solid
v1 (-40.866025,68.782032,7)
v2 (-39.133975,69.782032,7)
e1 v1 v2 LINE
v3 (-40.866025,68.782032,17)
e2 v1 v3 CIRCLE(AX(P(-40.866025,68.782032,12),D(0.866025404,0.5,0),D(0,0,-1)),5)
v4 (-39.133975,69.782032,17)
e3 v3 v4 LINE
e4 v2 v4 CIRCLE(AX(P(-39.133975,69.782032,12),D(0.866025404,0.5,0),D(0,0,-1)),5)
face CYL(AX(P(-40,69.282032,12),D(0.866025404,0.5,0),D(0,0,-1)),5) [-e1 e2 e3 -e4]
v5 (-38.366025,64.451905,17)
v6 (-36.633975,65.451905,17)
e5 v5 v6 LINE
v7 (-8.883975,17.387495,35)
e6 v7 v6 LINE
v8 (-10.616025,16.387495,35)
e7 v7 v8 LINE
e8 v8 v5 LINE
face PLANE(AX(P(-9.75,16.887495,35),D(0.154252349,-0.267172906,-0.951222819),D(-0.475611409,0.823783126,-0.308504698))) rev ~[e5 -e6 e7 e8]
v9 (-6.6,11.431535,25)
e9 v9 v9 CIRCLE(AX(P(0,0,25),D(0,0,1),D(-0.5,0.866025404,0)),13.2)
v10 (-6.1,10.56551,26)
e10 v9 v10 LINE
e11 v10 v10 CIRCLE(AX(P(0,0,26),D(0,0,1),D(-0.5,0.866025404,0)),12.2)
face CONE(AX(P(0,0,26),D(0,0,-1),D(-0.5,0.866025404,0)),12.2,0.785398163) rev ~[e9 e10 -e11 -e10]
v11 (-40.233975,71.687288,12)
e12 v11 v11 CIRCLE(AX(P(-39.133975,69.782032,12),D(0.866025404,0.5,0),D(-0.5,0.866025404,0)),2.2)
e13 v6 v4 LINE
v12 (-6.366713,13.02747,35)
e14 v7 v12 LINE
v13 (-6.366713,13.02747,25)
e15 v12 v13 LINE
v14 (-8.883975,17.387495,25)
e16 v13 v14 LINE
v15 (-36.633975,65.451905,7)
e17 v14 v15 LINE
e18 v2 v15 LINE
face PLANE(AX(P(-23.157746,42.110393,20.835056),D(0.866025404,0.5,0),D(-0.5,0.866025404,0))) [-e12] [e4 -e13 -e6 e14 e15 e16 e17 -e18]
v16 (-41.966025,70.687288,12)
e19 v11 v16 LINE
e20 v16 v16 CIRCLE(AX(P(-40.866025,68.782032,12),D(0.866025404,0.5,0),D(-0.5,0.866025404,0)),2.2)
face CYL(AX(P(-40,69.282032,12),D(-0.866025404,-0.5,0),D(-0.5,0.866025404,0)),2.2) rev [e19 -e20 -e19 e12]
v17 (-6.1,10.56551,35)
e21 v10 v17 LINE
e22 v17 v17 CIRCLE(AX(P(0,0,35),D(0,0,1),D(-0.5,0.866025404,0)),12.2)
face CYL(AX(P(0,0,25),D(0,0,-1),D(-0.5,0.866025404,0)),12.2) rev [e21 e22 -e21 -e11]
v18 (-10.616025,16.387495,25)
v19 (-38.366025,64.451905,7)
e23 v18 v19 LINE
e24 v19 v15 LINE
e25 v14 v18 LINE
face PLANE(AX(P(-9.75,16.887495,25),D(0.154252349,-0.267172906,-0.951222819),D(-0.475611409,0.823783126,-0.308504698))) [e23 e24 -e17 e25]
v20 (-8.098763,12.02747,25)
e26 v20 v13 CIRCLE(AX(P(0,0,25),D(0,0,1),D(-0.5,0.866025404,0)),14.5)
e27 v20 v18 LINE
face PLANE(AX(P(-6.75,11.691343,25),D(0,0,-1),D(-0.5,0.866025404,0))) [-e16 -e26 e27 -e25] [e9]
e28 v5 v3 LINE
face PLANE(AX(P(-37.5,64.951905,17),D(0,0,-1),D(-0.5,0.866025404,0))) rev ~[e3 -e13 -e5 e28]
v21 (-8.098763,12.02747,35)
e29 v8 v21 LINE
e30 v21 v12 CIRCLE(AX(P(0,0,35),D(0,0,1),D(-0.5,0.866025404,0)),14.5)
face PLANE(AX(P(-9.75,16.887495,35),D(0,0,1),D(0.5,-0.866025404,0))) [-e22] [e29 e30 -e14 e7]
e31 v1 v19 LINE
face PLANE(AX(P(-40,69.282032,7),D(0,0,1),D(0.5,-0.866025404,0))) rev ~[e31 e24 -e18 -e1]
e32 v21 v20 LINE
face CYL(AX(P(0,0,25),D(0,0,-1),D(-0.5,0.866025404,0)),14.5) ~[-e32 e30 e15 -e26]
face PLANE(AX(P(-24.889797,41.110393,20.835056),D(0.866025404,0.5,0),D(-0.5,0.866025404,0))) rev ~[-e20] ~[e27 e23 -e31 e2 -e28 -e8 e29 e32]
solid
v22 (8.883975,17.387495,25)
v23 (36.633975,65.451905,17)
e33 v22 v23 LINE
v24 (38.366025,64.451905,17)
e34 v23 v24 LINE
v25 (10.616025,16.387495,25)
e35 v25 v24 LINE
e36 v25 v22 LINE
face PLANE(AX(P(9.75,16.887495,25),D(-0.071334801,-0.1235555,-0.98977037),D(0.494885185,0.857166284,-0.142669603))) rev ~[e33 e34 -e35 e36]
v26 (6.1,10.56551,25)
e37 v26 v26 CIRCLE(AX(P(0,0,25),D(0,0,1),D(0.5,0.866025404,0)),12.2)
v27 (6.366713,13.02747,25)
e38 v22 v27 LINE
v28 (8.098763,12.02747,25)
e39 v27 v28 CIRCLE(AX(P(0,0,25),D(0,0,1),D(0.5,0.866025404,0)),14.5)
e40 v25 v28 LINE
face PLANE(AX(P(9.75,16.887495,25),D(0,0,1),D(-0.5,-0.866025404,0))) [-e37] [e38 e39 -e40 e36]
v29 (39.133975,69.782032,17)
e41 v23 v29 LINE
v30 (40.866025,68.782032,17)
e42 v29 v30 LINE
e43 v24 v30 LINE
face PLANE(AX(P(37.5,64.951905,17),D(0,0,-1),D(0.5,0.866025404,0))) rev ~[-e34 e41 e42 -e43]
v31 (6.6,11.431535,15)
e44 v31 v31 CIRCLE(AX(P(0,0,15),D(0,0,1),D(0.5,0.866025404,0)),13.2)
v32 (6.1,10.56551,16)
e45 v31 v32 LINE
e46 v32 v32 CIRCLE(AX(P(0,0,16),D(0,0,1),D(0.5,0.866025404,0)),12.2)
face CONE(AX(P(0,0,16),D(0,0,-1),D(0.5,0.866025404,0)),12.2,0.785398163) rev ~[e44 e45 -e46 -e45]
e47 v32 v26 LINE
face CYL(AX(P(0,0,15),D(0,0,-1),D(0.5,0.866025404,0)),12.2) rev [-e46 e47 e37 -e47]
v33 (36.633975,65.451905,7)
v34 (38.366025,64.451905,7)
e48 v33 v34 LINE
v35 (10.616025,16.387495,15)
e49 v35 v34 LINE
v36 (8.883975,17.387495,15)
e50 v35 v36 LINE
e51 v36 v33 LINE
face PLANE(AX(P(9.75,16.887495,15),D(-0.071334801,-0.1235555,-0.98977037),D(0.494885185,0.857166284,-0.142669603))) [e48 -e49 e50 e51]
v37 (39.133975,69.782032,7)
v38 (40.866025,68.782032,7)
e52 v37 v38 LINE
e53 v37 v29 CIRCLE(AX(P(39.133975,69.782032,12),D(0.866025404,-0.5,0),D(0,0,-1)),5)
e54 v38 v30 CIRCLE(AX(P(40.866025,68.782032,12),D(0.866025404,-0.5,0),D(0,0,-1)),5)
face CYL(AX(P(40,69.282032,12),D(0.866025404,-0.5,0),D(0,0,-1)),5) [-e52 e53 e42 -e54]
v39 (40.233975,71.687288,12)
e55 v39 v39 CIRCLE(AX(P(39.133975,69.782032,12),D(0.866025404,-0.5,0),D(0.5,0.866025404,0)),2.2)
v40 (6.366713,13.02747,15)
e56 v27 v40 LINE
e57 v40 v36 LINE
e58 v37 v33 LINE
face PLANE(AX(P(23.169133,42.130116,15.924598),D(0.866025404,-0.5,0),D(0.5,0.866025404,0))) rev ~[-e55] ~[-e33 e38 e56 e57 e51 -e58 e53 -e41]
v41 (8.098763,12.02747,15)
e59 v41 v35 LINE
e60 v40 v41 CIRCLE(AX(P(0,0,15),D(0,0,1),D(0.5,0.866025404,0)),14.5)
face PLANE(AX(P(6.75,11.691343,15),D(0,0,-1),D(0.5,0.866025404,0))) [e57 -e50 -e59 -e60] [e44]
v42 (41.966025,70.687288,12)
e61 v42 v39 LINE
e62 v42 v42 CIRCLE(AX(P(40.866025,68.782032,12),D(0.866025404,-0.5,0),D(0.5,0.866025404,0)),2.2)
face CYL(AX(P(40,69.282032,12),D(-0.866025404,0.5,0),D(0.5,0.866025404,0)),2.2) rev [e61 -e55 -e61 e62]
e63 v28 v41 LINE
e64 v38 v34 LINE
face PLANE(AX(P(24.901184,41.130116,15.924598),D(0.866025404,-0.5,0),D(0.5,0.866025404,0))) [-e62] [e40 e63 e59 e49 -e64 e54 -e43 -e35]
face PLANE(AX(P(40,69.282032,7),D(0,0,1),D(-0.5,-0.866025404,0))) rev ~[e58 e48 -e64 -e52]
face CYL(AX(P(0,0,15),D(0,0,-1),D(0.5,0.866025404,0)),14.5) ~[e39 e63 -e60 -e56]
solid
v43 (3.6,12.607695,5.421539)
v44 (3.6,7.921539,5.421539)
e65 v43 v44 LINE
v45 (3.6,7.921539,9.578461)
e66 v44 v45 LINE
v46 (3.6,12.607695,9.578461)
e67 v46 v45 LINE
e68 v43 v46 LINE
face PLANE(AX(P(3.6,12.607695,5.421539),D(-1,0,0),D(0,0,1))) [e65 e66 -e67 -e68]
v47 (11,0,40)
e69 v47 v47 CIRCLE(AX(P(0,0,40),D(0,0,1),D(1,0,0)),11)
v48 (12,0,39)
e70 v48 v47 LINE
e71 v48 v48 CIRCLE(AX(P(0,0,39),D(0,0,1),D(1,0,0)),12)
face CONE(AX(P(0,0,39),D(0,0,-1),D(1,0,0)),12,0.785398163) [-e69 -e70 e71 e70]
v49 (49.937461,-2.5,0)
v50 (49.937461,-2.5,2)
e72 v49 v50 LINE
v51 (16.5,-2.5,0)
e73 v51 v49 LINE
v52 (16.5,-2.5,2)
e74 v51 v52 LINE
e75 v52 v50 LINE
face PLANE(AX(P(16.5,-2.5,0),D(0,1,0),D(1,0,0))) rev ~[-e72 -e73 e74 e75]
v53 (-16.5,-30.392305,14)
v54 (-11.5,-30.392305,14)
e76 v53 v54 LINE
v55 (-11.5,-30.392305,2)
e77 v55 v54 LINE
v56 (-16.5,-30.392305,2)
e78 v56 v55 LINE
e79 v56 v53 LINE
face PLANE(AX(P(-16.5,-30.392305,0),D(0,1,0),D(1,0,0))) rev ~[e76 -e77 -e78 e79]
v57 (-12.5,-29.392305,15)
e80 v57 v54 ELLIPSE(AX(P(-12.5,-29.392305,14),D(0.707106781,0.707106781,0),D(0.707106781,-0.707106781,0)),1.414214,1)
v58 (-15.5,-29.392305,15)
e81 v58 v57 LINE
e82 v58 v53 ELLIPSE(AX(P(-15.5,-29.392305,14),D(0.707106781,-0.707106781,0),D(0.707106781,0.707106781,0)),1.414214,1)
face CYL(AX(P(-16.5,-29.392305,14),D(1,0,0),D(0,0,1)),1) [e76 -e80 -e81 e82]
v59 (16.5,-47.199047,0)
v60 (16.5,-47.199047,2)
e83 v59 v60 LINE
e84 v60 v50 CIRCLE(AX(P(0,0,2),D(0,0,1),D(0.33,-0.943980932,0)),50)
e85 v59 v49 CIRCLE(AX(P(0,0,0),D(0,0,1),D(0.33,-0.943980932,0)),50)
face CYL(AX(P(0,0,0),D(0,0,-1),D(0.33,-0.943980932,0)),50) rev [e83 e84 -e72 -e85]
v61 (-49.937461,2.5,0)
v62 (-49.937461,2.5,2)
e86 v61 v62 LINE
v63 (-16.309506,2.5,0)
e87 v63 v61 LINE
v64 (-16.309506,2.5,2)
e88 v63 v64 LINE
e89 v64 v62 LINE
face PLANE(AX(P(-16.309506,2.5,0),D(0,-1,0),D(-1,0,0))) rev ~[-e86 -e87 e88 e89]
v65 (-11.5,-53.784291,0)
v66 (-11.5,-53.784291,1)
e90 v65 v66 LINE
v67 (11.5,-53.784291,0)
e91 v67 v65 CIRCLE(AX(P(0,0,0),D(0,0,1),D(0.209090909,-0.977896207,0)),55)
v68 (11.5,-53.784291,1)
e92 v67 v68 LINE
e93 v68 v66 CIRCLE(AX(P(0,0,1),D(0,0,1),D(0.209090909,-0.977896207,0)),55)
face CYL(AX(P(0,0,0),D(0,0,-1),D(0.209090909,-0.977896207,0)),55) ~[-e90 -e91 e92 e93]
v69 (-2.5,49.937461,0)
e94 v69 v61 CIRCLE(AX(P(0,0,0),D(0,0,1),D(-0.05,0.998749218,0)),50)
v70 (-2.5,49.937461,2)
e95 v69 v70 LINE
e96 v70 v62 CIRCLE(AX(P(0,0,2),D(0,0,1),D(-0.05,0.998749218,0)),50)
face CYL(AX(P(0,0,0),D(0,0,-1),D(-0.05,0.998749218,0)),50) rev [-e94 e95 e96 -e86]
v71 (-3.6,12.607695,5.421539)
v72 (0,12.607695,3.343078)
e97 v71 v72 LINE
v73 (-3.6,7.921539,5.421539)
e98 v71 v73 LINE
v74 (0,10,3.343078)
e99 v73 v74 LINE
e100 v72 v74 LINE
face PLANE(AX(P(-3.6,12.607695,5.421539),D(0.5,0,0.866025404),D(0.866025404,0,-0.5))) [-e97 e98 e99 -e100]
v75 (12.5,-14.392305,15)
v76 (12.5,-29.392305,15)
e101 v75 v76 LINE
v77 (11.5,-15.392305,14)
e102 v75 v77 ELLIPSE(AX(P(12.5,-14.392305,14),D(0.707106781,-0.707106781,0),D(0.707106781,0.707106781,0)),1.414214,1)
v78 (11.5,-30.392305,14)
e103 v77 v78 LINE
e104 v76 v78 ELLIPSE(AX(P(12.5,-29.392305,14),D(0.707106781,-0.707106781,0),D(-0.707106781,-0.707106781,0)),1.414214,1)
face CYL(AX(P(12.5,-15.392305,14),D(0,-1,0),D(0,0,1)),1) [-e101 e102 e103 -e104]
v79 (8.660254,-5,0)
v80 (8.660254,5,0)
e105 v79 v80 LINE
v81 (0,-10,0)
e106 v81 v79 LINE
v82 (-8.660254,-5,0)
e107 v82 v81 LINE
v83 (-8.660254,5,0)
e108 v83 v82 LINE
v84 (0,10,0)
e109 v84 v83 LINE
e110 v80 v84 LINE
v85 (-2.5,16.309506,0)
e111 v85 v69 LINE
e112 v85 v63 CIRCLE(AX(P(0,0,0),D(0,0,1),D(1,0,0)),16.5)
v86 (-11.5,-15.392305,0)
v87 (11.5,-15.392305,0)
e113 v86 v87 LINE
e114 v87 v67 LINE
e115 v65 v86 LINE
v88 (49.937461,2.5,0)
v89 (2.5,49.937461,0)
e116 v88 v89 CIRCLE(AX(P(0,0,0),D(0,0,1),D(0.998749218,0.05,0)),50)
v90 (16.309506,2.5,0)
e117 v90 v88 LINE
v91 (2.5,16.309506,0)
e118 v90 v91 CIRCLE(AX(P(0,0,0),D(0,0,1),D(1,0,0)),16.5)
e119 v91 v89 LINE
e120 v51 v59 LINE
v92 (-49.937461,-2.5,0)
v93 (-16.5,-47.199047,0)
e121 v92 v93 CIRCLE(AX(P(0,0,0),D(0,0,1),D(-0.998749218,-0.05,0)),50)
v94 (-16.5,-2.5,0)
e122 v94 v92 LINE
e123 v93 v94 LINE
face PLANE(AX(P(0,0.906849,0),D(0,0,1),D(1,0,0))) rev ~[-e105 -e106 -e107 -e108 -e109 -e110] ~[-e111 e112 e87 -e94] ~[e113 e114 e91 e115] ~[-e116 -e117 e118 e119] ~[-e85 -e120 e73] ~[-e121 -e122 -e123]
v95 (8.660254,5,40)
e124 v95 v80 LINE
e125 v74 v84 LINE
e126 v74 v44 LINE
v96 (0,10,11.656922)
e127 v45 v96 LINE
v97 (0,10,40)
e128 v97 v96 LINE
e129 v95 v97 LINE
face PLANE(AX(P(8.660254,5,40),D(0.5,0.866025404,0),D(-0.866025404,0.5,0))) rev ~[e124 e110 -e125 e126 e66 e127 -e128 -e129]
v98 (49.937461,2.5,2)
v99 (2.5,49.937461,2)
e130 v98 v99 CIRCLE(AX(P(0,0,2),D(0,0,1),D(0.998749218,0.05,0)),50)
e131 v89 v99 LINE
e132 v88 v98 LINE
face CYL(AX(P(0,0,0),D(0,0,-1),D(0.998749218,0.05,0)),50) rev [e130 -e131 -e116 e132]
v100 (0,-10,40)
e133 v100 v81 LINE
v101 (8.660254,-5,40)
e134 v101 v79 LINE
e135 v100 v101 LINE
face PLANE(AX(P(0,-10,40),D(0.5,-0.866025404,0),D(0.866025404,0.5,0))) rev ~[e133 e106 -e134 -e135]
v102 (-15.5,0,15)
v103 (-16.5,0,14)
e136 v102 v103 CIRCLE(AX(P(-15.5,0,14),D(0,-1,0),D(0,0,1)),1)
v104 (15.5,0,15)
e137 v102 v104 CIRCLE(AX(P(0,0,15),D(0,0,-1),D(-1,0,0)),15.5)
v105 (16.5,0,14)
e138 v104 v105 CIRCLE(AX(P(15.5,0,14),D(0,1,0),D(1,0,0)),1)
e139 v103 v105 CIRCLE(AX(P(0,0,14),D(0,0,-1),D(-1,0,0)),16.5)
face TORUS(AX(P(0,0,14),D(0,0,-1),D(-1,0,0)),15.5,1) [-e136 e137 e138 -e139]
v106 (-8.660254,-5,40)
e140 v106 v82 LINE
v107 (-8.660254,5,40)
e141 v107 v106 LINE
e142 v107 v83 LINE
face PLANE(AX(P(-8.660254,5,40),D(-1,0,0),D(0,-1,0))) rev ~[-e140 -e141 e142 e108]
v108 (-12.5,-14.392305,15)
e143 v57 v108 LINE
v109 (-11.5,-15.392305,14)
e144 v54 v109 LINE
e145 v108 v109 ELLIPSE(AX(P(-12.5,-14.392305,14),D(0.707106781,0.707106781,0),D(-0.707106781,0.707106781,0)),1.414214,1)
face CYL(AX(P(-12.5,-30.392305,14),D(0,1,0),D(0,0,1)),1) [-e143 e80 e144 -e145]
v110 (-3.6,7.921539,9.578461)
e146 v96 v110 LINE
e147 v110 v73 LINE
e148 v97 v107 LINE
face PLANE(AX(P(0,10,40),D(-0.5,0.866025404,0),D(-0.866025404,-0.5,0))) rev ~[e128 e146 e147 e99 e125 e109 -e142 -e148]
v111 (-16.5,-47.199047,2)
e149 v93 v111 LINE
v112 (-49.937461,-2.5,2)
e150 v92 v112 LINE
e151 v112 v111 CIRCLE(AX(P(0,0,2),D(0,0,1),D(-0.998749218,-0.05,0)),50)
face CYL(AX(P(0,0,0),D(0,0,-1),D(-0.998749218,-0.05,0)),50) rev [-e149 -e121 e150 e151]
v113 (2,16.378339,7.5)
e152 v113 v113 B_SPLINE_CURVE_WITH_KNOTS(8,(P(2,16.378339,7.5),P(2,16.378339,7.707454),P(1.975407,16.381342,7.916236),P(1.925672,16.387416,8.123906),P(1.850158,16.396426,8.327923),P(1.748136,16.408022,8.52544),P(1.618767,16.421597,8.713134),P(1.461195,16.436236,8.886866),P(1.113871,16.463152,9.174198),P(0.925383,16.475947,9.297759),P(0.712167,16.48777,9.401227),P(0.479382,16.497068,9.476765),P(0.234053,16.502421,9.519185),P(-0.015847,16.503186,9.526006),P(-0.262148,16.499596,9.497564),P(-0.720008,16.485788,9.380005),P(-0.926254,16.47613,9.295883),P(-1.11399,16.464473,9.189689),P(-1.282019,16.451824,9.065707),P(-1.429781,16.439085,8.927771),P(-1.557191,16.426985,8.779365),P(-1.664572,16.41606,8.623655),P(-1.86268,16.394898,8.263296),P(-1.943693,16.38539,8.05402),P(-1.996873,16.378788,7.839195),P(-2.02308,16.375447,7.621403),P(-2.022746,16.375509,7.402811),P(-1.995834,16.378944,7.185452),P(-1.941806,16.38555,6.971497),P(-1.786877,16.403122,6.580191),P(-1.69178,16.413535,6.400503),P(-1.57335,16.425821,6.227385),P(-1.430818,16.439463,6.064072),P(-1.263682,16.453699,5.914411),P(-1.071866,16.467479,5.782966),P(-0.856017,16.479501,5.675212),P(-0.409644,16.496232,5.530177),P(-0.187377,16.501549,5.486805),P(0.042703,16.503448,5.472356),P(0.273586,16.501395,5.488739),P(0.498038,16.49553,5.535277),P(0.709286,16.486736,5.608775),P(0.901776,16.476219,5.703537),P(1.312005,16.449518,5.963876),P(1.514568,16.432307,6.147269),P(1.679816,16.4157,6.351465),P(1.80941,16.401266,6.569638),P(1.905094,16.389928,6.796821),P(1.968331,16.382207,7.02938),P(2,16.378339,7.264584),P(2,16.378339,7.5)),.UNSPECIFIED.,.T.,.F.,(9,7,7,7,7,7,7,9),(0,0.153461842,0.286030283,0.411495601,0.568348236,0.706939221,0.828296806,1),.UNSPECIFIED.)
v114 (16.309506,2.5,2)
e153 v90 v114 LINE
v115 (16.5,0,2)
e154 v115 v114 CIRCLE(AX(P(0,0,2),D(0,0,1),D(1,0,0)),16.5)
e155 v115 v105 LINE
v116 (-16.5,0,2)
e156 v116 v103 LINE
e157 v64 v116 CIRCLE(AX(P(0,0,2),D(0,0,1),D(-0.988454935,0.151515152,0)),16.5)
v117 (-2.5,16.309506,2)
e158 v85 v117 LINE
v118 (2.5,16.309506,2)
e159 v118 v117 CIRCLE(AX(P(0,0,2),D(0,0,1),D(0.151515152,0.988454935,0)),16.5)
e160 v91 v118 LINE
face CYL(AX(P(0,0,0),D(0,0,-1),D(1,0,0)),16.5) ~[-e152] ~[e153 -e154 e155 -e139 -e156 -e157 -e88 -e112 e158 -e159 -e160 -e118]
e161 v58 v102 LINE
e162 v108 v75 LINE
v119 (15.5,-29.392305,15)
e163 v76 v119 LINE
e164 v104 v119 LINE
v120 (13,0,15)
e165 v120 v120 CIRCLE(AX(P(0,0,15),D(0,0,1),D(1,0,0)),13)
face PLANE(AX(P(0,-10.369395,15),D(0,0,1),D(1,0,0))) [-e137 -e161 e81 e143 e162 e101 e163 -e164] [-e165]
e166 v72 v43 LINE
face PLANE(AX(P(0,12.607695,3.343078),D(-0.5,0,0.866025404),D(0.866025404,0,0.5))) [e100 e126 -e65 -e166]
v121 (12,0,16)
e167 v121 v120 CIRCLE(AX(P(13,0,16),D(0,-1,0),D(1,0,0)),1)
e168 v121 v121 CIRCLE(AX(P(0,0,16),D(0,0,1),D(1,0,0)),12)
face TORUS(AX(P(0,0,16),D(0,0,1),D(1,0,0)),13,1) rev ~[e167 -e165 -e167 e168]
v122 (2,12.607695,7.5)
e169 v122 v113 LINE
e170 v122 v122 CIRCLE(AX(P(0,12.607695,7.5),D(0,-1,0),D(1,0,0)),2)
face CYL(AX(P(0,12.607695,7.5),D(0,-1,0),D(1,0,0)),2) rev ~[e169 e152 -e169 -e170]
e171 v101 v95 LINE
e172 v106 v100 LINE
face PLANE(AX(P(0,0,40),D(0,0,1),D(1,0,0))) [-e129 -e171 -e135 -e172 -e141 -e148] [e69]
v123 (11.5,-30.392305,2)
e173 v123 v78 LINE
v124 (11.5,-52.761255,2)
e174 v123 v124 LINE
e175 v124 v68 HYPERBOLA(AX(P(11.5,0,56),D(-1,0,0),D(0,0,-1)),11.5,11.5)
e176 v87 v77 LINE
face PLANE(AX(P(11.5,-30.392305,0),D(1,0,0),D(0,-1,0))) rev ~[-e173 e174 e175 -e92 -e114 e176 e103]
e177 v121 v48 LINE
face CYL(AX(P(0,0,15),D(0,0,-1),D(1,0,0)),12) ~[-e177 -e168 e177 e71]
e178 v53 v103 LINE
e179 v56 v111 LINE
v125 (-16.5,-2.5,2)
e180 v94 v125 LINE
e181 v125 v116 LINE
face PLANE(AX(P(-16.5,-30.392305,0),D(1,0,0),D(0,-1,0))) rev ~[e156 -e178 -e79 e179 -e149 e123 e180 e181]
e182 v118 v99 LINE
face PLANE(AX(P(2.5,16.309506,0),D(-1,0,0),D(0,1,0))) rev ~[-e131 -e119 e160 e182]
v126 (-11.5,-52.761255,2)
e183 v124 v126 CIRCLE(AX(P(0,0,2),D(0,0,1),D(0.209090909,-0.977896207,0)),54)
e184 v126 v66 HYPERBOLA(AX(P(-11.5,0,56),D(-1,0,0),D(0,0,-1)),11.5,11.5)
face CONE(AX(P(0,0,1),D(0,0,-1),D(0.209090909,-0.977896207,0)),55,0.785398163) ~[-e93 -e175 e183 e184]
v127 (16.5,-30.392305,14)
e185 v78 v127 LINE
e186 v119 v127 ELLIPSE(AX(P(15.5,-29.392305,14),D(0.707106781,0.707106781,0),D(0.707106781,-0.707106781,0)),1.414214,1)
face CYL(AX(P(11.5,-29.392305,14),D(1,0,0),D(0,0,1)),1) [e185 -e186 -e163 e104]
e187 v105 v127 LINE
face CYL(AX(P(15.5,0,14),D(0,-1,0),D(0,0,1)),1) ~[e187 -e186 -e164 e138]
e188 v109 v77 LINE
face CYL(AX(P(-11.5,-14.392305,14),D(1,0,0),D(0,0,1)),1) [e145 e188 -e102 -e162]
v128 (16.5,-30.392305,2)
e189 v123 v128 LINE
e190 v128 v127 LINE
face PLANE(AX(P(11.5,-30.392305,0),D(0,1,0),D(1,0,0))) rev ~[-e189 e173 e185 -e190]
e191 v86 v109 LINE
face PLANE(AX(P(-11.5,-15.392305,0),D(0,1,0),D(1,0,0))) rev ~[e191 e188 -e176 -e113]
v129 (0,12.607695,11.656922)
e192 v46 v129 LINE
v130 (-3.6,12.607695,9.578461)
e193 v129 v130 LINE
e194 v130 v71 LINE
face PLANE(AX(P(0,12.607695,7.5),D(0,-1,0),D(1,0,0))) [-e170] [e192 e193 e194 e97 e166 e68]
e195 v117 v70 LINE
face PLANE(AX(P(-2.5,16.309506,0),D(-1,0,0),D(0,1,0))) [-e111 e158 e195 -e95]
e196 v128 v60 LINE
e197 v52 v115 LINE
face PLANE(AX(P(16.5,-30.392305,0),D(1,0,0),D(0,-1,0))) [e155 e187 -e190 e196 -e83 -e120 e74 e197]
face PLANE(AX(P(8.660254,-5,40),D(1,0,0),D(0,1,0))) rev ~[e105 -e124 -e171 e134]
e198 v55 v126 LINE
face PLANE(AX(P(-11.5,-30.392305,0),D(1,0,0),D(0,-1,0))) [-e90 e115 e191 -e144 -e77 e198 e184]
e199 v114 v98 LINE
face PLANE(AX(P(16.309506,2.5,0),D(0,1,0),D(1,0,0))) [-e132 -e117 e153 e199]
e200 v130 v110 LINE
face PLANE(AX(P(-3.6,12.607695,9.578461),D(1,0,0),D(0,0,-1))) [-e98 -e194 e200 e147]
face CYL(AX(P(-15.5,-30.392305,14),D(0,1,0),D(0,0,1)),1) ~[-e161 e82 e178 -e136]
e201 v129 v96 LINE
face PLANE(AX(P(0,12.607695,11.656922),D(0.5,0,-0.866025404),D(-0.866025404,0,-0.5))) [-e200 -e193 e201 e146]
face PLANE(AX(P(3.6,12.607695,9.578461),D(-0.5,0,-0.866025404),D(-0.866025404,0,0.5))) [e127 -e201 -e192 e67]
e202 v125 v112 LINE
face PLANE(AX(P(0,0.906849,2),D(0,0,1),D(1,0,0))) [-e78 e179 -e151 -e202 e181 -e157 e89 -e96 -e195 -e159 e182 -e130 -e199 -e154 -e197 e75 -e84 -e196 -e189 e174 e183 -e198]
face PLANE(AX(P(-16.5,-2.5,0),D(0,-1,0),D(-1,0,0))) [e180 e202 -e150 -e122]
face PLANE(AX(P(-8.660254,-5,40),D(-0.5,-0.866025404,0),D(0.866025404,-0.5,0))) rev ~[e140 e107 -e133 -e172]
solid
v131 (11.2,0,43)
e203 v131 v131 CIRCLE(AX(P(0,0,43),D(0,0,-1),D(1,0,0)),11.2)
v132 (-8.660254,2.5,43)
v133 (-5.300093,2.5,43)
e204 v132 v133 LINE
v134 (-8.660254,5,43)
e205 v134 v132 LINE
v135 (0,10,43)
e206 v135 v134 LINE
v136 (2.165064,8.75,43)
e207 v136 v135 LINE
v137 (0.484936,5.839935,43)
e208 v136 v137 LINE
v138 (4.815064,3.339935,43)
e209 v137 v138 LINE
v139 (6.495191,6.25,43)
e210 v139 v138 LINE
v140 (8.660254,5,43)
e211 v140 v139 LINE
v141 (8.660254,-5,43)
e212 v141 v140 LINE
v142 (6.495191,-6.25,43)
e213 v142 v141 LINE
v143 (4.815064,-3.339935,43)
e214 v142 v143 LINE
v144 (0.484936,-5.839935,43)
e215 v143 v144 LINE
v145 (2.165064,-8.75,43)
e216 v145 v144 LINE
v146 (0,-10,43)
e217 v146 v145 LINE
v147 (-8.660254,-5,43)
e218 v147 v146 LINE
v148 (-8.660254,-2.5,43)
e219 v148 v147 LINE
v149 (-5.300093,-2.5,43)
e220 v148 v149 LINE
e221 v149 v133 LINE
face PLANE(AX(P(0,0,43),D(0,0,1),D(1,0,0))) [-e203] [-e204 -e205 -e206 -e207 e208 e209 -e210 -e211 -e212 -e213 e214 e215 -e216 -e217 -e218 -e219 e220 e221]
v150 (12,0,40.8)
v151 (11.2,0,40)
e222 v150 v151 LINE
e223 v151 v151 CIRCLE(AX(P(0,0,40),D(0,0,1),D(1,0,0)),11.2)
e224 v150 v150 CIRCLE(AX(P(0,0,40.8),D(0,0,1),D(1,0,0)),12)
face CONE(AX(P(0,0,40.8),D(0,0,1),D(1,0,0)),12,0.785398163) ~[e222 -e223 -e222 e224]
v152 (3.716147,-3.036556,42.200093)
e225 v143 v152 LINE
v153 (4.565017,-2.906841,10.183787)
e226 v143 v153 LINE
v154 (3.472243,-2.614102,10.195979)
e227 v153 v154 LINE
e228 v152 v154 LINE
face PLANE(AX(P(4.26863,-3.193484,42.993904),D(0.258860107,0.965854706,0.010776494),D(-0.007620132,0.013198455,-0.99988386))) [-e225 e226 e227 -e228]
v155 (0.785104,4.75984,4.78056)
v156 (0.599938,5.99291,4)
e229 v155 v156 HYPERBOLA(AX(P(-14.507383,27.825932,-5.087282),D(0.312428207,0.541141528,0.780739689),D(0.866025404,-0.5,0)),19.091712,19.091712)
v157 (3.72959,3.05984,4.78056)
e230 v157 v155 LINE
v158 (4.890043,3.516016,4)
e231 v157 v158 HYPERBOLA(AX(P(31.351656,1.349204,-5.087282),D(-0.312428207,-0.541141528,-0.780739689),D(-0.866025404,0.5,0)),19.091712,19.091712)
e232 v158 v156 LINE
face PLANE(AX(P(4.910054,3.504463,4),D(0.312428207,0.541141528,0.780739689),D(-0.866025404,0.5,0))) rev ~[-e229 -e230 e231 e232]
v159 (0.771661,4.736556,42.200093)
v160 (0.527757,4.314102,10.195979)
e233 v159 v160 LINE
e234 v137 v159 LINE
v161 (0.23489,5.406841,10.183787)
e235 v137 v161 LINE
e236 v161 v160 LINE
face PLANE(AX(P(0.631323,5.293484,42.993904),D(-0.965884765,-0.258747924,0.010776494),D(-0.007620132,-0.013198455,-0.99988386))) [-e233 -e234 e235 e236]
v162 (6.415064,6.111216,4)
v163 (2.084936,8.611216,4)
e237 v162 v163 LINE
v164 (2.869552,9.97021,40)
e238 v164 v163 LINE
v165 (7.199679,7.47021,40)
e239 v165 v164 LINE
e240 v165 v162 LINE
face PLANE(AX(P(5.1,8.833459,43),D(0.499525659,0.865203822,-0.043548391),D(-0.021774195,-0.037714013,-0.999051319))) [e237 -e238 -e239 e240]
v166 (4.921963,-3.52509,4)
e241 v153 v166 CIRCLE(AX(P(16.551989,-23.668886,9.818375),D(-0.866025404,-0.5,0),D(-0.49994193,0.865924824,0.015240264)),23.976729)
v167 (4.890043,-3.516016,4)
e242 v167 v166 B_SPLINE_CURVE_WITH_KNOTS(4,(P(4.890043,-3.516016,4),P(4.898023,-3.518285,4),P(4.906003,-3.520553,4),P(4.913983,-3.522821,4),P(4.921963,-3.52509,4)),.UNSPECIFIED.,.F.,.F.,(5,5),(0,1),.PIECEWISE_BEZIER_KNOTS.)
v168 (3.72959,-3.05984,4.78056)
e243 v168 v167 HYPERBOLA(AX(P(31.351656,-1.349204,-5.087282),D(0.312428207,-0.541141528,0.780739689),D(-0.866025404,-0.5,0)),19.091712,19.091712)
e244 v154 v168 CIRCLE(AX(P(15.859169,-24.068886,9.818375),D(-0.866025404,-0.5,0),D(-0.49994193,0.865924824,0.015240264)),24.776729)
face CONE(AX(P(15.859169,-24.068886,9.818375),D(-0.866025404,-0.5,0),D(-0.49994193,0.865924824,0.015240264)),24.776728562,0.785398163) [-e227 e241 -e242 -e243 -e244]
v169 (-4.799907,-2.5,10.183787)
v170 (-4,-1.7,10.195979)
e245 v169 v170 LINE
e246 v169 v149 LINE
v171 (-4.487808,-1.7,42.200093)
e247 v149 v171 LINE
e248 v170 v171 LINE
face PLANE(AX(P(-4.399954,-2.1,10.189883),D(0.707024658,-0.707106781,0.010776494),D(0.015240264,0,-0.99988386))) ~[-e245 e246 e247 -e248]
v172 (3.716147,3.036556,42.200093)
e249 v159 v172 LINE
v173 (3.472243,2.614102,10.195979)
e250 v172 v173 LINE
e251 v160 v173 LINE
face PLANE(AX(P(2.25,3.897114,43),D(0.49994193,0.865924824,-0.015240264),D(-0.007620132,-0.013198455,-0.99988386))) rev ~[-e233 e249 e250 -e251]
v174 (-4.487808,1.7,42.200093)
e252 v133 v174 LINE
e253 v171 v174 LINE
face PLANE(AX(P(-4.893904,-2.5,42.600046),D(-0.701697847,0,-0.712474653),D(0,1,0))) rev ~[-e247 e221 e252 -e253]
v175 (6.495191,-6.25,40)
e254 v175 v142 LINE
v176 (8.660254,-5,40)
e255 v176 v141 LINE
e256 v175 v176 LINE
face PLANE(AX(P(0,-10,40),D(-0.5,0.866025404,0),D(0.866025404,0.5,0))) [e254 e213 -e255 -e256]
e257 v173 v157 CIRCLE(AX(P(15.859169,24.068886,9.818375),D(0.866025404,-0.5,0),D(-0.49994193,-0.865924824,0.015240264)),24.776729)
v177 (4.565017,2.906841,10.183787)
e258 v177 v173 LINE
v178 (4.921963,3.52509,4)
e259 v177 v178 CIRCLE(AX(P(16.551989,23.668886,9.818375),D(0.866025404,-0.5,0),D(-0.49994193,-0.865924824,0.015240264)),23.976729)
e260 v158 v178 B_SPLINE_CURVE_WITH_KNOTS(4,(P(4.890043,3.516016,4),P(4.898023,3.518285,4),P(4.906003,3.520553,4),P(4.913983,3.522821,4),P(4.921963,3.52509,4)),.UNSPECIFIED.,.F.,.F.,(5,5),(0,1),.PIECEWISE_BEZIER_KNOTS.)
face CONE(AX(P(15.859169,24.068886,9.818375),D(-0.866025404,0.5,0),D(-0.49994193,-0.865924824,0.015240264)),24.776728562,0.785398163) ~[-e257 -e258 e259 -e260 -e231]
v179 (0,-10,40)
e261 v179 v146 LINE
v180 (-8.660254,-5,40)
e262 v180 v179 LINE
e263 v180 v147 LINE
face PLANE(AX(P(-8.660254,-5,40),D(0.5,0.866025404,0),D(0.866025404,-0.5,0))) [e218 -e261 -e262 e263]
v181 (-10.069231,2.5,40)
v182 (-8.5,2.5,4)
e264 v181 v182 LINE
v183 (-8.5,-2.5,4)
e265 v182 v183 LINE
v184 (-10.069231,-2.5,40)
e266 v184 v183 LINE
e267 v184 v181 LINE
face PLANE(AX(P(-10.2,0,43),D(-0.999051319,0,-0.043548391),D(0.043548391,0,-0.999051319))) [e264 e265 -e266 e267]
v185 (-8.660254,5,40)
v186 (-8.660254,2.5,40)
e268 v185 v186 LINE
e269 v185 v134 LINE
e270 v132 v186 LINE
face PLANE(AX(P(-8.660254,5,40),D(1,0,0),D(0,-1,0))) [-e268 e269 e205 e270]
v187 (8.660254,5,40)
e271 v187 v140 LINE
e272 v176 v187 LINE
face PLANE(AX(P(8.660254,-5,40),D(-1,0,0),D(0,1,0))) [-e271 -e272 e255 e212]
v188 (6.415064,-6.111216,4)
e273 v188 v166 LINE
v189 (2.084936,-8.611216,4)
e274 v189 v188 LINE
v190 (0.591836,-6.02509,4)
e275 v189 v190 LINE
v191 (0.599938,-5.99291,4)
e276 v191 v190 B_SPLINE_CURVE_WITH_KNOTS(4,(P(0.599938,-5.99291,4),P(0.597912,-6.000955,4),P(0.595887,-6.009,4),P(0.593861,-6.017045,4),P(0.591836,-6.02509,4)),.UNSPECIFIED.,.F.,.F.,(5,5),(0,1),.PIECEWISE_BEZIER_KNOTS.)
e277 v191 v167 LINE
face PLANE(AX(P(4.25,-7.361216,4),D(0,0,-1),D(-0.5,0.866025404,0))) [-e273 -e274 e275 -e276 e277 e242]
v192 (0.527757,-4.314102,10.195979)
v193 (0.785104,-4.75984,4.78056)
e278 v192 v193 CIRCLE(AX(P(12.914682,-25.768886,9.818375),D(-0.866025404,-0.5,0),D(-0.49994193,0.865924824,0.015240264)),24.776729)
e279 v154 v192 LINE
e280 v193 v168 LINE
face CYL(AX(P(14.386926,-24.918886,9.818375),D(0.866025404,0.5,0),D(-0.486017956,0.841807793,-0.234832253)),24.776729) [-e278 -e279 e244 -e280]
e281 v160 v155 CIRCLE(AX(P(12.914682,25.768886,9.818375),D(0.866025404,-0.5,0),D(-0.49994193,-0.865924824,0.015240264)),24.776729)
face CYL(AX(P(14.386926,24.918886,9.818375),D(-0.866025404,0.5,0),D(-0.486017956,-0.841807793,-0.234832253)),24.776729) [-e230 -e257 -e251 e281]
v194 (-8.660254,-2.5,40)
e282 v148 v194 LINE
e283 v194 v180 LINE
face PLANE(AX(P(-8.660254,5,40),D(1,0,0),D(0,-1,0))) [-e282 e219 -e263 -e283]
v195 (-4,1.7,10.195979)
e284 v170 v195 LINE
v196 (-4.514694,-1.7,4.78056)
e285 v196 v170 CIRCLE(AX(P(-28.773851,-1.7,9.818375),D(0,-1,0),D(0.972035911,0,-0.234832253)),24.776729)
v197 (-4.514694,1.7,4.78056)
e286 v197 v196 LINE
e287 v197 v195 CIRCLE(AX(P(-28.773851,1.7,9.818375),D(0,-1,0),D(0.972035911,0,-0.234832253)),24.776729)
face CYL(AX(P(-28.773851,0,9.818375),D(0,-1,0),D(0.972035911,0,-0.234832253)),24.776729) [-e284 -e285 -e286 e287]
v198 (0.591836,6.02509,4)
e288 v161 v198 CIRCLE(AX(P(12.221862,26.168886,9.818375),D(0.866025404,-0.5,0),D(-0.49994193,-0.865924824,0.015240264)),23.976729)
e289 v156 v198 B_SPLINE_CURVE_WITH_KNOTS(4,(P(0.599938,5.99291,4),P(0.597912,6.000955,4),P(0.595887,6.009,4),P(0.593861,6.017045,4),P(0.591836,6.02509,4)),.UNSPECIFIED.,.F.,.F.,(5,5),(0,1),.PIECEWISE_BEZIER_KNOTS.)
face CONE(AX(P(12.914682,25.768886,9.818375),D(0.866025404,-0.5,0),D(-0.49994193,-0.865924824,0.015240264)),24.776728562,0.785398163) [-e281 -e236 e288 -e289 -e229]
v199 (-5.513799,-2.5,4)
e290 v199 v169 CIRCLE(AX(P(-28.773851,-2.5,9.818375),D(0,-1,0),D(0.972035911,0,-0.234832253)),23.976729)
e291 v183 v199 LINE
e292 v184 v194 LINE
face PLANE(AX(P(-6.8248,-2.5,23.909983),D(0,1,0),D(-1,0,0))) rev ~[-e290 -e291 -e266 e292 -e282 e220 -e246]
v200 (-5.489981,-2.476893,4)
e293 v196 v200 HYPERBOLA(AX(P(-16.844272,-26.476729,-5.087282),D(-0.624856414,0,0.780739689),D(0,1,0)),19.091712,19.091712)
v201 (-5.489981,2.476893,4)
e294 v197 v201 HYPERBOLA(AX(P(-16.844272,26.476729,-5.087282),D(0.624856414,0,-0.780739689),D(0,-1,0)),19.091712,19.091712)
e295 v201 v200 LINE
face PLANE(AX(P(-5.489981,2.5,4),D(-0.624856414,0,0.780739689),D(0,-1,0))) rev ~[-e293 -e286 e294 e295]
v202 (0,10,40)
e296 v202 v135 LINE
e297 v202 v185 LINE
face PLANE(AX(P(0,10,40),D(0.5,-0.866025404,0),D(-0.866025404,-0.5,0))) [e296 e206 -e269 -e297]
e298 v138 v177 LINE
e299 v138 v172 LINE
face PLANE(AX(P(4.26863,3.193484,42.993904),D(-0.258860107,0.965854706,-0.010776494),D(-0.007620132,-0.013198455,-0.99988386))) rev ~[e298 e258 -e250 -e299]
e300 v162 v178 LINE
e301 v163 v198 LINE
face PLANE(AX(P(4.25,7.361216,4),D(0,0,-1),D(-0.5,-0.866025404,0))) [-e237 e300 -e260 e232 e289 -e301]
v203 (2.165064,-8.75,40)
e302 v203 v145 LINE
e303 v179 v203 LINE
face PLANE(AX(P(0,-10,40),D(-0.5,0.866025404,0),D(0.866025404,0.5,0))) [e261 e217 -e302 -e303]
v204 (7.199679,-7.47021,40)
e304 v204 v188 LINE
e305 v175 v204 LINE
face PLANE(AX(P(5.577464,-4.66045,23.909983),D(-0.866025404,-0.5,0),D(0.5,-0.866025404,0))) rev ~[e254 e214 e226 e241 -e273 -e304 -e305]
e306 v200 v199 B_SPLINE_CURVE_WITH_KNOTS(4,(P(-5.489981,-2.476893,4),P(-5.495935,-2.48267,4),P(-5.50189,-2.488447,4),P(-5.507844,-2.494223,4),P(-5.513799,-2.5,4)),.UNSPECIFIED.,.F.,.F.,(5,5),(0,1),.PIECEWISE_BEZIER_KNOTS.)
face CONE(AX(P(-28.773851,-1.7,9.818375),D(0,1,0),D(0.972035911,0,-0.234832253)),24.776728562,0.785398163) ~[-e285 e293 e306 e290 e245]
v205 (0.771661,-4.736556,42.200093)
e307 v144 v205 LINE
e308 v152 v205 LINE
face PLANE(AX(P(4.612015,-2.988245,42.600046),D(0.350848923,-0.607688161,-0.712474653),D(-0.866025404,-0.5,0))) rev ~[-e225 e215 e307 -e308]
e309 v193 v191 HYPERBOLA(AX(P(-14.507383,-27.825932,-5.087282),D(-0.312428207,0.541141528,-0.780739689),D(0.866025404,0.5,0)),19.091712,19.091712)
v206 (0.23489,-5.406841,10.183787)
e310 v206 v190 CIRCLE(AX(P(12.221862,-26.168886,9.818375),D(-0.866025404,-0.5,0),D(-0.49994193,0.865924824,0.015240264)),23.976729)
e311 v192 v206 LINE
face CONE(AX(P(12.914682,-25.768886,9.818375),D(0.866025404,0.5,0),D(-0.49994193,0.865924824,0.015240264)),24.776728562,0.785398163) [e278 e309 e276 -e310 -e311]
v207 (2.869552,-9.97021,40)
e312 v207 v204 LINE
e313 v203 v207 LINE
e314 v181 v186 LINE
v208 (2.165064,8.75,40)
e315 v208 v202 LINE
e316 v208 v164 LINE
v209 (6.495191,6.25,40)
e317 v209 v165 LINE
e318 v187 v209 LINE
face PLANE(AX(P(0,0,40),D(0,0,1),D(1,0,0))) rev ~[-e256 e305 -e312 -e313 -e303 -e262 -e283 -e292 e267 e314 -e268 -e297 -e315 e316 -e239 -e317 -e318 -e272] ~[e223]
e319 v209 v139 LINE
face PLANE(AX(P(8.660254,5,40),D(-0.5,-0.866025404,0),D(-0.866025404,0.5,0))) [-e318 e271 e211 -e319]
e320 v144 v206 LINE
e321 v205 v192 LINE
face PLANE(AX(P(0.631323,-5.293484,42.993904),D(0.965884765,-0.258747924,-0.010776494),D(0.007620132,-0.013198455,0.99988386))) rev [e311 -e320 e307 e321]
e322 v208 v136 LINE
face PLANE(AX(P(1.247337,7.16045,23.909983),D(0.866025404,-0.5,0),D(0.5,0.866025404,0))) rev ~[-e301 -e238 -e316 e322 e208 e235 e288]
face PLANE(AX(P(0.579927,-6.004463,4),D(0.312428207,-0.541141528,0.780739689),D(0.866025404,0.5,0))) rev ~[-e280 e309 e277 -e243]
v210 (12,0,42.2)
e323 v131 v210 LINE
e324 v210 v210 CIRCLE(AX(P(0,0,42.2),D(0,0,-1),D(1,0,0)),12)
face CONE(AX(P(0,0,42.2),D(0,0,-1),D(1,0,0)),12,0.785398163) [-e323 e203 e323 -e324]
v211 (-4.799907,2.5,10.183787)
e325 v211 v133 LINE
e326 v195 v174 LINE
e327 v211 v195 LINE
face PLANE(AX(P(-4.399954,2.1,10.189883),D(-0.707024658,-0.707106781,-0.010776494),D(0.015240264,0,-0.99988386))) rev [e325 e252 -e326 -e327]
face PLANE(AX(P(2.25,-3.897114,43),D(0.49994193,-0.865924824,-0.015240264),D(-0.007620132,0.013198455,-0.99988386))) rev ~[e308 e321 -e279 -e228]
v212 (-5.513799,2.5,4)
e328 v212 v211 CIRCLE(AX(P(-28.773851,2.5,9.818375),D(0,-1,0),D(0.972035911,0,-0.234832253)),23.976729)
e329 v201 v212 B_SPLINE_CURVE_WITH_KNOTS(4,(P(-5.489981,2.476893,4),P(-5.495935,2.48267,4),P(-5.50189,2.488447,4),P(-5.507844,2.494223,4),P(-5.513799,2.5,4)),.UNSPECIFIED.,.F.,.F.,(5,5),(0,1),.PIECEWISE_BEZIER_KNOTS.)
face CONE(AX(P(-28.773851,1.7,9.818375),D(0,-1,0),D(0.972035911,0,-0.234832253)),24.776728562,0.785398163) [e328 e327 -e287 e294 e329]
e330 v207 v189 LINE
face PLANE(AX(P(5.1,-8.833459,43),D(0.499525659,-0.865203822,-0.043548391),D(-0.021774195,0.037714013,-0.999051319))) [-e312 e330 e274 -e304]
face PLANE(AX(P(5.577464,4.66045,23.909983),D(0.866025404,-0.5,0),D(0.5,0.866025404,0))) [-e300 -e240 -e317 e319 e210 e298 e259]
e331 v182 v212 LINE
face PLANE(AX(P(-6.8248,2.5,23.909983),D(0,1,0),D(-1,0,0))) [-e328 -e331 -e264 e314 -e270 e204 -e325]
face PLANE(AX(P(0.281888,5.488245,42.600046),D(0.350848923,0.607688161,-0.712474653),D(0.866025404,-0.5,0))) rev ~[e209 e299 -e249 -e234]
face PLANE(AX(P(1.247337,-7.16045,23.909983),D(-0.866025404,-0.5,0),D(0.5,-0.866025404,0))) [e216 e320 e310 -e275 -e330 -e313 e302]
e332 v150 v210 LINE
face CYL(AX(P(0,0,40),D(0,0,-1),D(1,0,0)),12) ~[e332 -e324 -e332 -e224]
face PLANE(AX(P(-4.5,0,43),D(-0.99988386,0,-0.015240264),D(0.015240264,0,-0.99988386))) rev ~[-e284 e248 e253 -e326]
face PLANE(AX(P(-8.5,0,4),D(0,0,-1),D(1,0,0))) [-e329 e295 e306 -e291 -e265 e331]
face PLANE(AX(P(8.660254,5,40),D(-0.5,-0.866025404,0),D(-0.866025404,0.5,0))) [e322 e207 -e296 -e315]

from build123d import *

# Parameters (mm, degrees)
PAD_DEPTH          = 15
SKETCH002_R        = 12
PAD001_DEPTH       = 25
POCKET_DEPTH       = 40.001
SKETCH004_R        = 2
POCKET001_DEPTH    = 10
PAD006_DEPTH       = 2
POCKET002_DEPTH    = 5
CHAMFER_SIZE       = 1
FILLET_R           = 1
CHAMFER005_SIZE    = 1
SKETCH005_R        = 14.5
SKETCH005_R_2      = 12.2
PAD002_DEPTH       = 10
SKETCH006_R        = 2.2
PAD003_DEPTH       = 1
CHAMFER002_SIZE    = 1
SKETCH007_R        = 14.5
SKETCH007_R_2      = 12.2
PAD005_DEPTH       = 10
SKETCH008_R        = 2.2
PAD004_DEPTH       = 1
CHAMFER004_SIZE    = 1
PAD007_DEPTH       = 2.5
SKETCH014_R        = 12
PAD008_DEPTH       = 3
POLARPATTERN_COUNT = 3
CHAMFER006_SIZE    = 0.8
CHAMFER007_SIZE    = 0.8


with BuildPart() as main_holder:
    # Sketch → Pad (new body)
    with BuildSketch(Plane.XY):
        with BuildLine():
            Line((-16.5, -30.3923048454), (-11.5, -30.3923048454))
            Line((-11.5, -30.3923048454), (-11.5, -15.3923048454))
            Line((-11.5, -15.3923048454), (11.5, -15.3923048454))
            Line((11.5, -15.3923048454), (11.5, -30.3923048454))
            Line((11.5, -30.3923048454), (16.5, -30.3923048454))
            Line((16.5, -30.3923048454), (16.5, 0))
            ThreePointArc((16.5, 0), (0, 16.5), (-16.5, 0))
            Line((-16.5, -30.3923048454), (-16.5, 0))
        make_face()
    extrude(amount=PAD_DEPTH)

    # Sketch002 (on Face10 of Pad) → Pad001 (join)
    with BuildSketch(Plane.XY.offset(15)):
        Circle(SKETCH002_R)
    extrude(amount=PAD001_DEPTH)

    # Sketch003 (on Face12 of Pad001) → Pocket (cut, through all)
    with BuildSketch(Plane.XY.offset(40)):
        Polygon((0, -10), (8.6602540378, -5), (8.6602540378, 5), (0, 10), (-8.6602540378, 5), (-8.6602540378, -5), align=None)
    extrude(amount=-POCKET_DEPTH, mode=Mode.SUBTRACT)

    # Sketch004 (on DatumPlane) → Pocket001 (cut)
    with BuildSketch(Plane(origin=(0, 12.6076951546, -5), x_dir=(1, 0, 0), z_dir=(0, -1, 0))):
        with Locations((0, 12.5)):
            Circle(SKETCH004_R)
    extrude(amount=-POCKET001_DEPTH, mode=Mode.SUBTRACT)

    # Sketch009 → Pad006 (join)
    with BuildSketch(Plane.XY):
        with BuildLine():
            ThreePointArc((11.5, -53.784291387), (0, 55), (-11.5, -53.784291387))
            Line((-11.5, -30.3923048454), (-11.5, -53.784291387))
            Line((-16.5, -30.3923048454), (-11.5, -30.3923048454))
            Line((-16.5, -30.3923048454), (-16.5, -47.1990466005))
            ThreePointArc((-49.9374608886, -2.5), (-40.0372981616, -29.9502046056), (-16.5, -47.1990466005))
            Line((-16.5, -2.5), (-49.9374608886, -2.5))
            Line((-16.5, -2.5), (-16.5, 0))
            ThreePointArc((-16.3095064303, 2.5), (-16.4523076816, 1.253623528), (-16.5, 0))
            Line((-16.3095064303, 2.5), (-49.9374608886, 2.5))
            ThreePointArc((-2.5, 49.9374608886), (-35.3553390593, 35.3553390593), (-49.9374608886, 2.5))
            Line((-2.5, 16.3095064303), (-2.5, 49.9374608886))
            ThreePointArc((2.5, 16.3095064303), (0, 16.5), (-2.5, 16.3095064303))
            Line((2.5, 16.3095064303), (2.5, 49.9374608886))
            ThreePointArc((49.9374608886, 2.5), (35.3553390593, 35.3553390593), (2.5, 49.9374608886))
            Line((16.3095064303, 2.5), (49.9374608886, 2.5))
            ThreePointArc((16.5, 0), (16.4523076816, 1.253623528), (16.3095064303, 2.5))
            Line((16.5, -2.5), (16.5, 0))
            Line((16.5, -2.5), (49.9374608886, -2.5))
            ThreePointArc((16.5, -47.1990466005), (40.0372981616, -29.9502046056), (49.9374608886, -2.5))
            Line((16.5, -30.3923048454), (16.5, -47.1990466005))
            Line((11.5, -30.3923048454), (16.5, -30.3923048454))
            Line((11.5, -30.3923048454), (11.5, -53.784291387))
        make_face()
    extrude(amount=PAD006_DEPTH)

    # Sketch010 (on DatumPlane) → Pocket002 (cut)
    with BuildSketch(Plane(origin=(0, 12.6076951546, -5), x_dir=(1, 0, 0), z_dir=(0, -1, 0))):
        Polygon((0, 8.3430780618), (3.6, 10.4215390309), (3.6, 14.5784609691), (0, 16.6569219382), (-3.6, 14.5784609691), (-3.6, 10.4215390309), align=None)
    extrude(amount=POCKET002_DEPTH, mode=Mode.SUBTRACT)

    # Chamfer
    chamfer_edges = [main_holder.edges().sort_by_distance(p)[0] for p in [
        (-12, 0, 40),
    ]]
    chamfer(chamfer_edges, length=CHAMFER_SIZE)

    # Fillet
    fillet_edges = [main_holder.edges().sort_by_distance(p)[0] for p in [
        (-14, -30.392305, 15),
        (-16.5, -15.196152, 15),
        (-11.5, -22.892305, 15),
        (0, 16.5, 15),
        (0, -15.392305, 15),
        (16.5, -15.196152, 15),
        (11.5, -22.892305, 15),
        (14, -30.392305, 15),
        (-12, 0, 15),
    ]]
    fillet(fillet_edges, radius=FILLET_R)

    # Chamfer005
    chamfer005_edges = [main_holder.edges().sort_by_distance(p)[0] for p in [
        (0, 55, 2),
    ]]
    chamfer(chamfer005_edges, length=CHAMFER005_SIZE)


with BuildPart() as arm1:
    # Sketch005 → Pad002 (new body)
    with BuildSketch(Plane(origin=(0, 0, 13), x_dir=(0.5, 0.8660254038, 0), z_dir=(0, 0, 1))):
        Circle(SKETCH005_R)
        Circle(SKETCH005_R_2, mode=Mode.SUBTRACT)
    extrude(amount=PAD002_DEPTH)

    # Sketch006 (on DatumPlane) → Pad003 (join, symmetric)
    with BuildSketch(Plane(origin=(0, 0, 13), x_dir=(0.5, 0.8660254038, 0), z_dir=(0.8660254038, -0.5, 0))):
        with BuildLine():
            Line((14.5, 0), (19.5, 0))
            Line((19.5, 0), (75, -8))
            Line((80, -8), (75, -8))
            ThreePointArc((80, -8), (85, -3), (80, 2))
            Line((75, 2), (80, 2))
            Line((19.5, 10), (75, 2))
            Line((14.5, 10), (19.5, 10))
            Line((14.5, 10), (13.5, 10))
            Line((13.5, 10), (13.5, 0))
            Line((13.5, 0), (14.5, 0))
        make_face()
        with Locations((80, -3)):
            Circle(SKETCH006_R, mode=Mode.SUBTRACT)
    extrude(amount=PAD003_DEPTH, both=True)

    # Chamfer002
    chamfer002_edges = [arm1.edges().sort_by_distance(p)[0] for p in [
        (-6.1, -10.56551, 13),
        (6.1, 10.56551, 18),
    ]]
    chamfer(chamfer002_edges, length=CHAMFER002_SIZE)


with BuildPart() as arm1_1:
    # Body001 placement: moved
    add(arm1.part.moved(Location((0, 0, 2))))


with BuildPart() as arm002:
    # Sketch007 → Pad005 (new body)
    with BuildSketch(Plane(origin=(0, 0, 23), x_dir=(-0.5, 0.8660254038, 0), z_dir=(0, 0, 1))):
        Circle(SKETCH007_R)
        Circle(SKETCH007_R_2, mode=Mode.SUBTRACT)
    extrude(amount=PAD005_DEPTH)

    # Sketch008 (on DatumPlane) → Pad004 (join, symmetric)
    with BuildSketch(Plane(origin=(0, 0, 23), x_dir=(-0.5, 0.8660254038, 0), z_dir=(0.8660254038, 0.5, 0))):
        with BuildLine():
            Line((14.5, 0), (19.5, 0))
            Line((19.5, 0), (75, -18))
            Line((80, -18), (75, -18))
            ThreePointArc((80, -18), (85, -13), (80, -8))
            Line((75, -8), (80, -8))
            Line((19.5, 10), (75, -8))
            Line((14.5, 10), (19.5, 10))
            Line((14.5, 10), (13.5, 10))
            Line((13.5, 10), (13.5, 0))
            Line((13.5, 0), (14.5, 0))
        make_face()
        with Locations((80, -13)):
            Circle(SKETCH008_R, mode=Mode.SUBTRACT)
    extrude(amount=PAD004_DEPTH, both=True)

    # Chamfer004
    chamfer004_edges = [arm002.edges().sort_by_distance(p)[0] for p in [
        (6.1, -10.56551, 23),
        (-6.1, 10.56551, 28),
    ]]
    chamfer(chamfer004_edges, length=CHAMFER004_SIZE)


with BuildPart() as arm002_1:
    # Body002 placement: moved
    add(arm002.part.moved(Location((0, 0, 2))))


with BuildPart() as insert1:
    # Sketch013 → Pad007 (new body, symmetric)
    with BuildSketch(Plane.XZ):
        with BuildLine():
            Line((-10.2, 43), (-4.5, 43))
            Line((-4.5, 43), (-4, 10.1959788753))
            ThreePointArc((-4.6899810781, 4), (-4.1493355332, 7.076201395), (-4, 10.1959788753))
            Line((-8.5, 4), (-4.6899810781, 4))
            Line((-10.2, 43), (-8.5, 4))
        make_face()
    pad007 = extrude(amount=PAD007_DEPTH, both=True)

    # Sketch014 (on DatumPlane) → Pad008 (join)
    with BuildSketch(Plane.XY.offset(40)):
        Circle(SKETCH014_R)
        Polygon((8.6602540379, -5), (8.6602540379, 5), (0, 10), (-8.6602540378, 5), (-8.6602540378, -5), (0, -10), align=None, mode=Mode.SUBTRACT)
    pad008 = extrude(amount=PAD008_DEPTH)

    # PolarPattern: Pad008, Pad007 ×3 about axis
    polarpattern_axis = Axis((0, 0, 40), (0, 0, 1))
    for i in range(1, POLARPATTERN_COUNT):
        add(pad008.rotate(polarpattern_axis, i * 360 / POLARPATTERN_COUNT))
        add(pad007.rotate(polarpattern_axis, i * 360 / POLARPATTERN_COUNT))

    # Chamfer006
    chamfer006_edges = [insert1.edges().sort_by_distance(p)[0] for p in [
        (-12, 0, 43),
        (6, 10.392305, 43),
        (6, -10.392305, 43),
        (-12, 0, 40),
        (6, -10.392305, 40),
        (6, 10.392305, 40),
    ]]
    chamfer(chamfer006_edges, length=CHAMFER006_SIZE)

    # Chamfer007
    chamfer007_edges = [insert1.edges().sort_by_distance(p)[0] for p in [
        (2.25, -3.897114, 43),
        (2, -3.464102, 10.195979),
        (-0.040064, -4.930608, 26.597989),
        (4.290064, -2.430608, 26.597989),
        (2.344991, -4.061643, 4),
        (-0.090396, -4.84343, 7.076201),
        (4.239731, -2.34343, 7.076201),
        (-4.689981, 0, 4),
        (-4, 0, 10.195979),
        (-4.149336, 2.5, 7.076201),
        (-4.149336, -2.5, 7.076201),
        (-4.5, 0, 43),
        (-4.25, 2.5, 26.597989),
        (-4.25, -2.5, 26.597989),
        (2.25, 3.897114, 43),
        (2, 3.464102, 10.195979),
        (4.290064, 2.430608, 26.597989),
        (-0.040064, 4.930608, 26.597989),
        (2.344991, 4.061643, 4),
        (4.239731, 2.34343, 7.076201),
        (-0.090396, 4.84343, 7.076201),
    ]]
    chamfer(chamfer007_edges, length=CHAMFER007_SIZE)


solid = Compound([main_holder.part, arm1_1.part, arm002_1.part, insert1.part])
